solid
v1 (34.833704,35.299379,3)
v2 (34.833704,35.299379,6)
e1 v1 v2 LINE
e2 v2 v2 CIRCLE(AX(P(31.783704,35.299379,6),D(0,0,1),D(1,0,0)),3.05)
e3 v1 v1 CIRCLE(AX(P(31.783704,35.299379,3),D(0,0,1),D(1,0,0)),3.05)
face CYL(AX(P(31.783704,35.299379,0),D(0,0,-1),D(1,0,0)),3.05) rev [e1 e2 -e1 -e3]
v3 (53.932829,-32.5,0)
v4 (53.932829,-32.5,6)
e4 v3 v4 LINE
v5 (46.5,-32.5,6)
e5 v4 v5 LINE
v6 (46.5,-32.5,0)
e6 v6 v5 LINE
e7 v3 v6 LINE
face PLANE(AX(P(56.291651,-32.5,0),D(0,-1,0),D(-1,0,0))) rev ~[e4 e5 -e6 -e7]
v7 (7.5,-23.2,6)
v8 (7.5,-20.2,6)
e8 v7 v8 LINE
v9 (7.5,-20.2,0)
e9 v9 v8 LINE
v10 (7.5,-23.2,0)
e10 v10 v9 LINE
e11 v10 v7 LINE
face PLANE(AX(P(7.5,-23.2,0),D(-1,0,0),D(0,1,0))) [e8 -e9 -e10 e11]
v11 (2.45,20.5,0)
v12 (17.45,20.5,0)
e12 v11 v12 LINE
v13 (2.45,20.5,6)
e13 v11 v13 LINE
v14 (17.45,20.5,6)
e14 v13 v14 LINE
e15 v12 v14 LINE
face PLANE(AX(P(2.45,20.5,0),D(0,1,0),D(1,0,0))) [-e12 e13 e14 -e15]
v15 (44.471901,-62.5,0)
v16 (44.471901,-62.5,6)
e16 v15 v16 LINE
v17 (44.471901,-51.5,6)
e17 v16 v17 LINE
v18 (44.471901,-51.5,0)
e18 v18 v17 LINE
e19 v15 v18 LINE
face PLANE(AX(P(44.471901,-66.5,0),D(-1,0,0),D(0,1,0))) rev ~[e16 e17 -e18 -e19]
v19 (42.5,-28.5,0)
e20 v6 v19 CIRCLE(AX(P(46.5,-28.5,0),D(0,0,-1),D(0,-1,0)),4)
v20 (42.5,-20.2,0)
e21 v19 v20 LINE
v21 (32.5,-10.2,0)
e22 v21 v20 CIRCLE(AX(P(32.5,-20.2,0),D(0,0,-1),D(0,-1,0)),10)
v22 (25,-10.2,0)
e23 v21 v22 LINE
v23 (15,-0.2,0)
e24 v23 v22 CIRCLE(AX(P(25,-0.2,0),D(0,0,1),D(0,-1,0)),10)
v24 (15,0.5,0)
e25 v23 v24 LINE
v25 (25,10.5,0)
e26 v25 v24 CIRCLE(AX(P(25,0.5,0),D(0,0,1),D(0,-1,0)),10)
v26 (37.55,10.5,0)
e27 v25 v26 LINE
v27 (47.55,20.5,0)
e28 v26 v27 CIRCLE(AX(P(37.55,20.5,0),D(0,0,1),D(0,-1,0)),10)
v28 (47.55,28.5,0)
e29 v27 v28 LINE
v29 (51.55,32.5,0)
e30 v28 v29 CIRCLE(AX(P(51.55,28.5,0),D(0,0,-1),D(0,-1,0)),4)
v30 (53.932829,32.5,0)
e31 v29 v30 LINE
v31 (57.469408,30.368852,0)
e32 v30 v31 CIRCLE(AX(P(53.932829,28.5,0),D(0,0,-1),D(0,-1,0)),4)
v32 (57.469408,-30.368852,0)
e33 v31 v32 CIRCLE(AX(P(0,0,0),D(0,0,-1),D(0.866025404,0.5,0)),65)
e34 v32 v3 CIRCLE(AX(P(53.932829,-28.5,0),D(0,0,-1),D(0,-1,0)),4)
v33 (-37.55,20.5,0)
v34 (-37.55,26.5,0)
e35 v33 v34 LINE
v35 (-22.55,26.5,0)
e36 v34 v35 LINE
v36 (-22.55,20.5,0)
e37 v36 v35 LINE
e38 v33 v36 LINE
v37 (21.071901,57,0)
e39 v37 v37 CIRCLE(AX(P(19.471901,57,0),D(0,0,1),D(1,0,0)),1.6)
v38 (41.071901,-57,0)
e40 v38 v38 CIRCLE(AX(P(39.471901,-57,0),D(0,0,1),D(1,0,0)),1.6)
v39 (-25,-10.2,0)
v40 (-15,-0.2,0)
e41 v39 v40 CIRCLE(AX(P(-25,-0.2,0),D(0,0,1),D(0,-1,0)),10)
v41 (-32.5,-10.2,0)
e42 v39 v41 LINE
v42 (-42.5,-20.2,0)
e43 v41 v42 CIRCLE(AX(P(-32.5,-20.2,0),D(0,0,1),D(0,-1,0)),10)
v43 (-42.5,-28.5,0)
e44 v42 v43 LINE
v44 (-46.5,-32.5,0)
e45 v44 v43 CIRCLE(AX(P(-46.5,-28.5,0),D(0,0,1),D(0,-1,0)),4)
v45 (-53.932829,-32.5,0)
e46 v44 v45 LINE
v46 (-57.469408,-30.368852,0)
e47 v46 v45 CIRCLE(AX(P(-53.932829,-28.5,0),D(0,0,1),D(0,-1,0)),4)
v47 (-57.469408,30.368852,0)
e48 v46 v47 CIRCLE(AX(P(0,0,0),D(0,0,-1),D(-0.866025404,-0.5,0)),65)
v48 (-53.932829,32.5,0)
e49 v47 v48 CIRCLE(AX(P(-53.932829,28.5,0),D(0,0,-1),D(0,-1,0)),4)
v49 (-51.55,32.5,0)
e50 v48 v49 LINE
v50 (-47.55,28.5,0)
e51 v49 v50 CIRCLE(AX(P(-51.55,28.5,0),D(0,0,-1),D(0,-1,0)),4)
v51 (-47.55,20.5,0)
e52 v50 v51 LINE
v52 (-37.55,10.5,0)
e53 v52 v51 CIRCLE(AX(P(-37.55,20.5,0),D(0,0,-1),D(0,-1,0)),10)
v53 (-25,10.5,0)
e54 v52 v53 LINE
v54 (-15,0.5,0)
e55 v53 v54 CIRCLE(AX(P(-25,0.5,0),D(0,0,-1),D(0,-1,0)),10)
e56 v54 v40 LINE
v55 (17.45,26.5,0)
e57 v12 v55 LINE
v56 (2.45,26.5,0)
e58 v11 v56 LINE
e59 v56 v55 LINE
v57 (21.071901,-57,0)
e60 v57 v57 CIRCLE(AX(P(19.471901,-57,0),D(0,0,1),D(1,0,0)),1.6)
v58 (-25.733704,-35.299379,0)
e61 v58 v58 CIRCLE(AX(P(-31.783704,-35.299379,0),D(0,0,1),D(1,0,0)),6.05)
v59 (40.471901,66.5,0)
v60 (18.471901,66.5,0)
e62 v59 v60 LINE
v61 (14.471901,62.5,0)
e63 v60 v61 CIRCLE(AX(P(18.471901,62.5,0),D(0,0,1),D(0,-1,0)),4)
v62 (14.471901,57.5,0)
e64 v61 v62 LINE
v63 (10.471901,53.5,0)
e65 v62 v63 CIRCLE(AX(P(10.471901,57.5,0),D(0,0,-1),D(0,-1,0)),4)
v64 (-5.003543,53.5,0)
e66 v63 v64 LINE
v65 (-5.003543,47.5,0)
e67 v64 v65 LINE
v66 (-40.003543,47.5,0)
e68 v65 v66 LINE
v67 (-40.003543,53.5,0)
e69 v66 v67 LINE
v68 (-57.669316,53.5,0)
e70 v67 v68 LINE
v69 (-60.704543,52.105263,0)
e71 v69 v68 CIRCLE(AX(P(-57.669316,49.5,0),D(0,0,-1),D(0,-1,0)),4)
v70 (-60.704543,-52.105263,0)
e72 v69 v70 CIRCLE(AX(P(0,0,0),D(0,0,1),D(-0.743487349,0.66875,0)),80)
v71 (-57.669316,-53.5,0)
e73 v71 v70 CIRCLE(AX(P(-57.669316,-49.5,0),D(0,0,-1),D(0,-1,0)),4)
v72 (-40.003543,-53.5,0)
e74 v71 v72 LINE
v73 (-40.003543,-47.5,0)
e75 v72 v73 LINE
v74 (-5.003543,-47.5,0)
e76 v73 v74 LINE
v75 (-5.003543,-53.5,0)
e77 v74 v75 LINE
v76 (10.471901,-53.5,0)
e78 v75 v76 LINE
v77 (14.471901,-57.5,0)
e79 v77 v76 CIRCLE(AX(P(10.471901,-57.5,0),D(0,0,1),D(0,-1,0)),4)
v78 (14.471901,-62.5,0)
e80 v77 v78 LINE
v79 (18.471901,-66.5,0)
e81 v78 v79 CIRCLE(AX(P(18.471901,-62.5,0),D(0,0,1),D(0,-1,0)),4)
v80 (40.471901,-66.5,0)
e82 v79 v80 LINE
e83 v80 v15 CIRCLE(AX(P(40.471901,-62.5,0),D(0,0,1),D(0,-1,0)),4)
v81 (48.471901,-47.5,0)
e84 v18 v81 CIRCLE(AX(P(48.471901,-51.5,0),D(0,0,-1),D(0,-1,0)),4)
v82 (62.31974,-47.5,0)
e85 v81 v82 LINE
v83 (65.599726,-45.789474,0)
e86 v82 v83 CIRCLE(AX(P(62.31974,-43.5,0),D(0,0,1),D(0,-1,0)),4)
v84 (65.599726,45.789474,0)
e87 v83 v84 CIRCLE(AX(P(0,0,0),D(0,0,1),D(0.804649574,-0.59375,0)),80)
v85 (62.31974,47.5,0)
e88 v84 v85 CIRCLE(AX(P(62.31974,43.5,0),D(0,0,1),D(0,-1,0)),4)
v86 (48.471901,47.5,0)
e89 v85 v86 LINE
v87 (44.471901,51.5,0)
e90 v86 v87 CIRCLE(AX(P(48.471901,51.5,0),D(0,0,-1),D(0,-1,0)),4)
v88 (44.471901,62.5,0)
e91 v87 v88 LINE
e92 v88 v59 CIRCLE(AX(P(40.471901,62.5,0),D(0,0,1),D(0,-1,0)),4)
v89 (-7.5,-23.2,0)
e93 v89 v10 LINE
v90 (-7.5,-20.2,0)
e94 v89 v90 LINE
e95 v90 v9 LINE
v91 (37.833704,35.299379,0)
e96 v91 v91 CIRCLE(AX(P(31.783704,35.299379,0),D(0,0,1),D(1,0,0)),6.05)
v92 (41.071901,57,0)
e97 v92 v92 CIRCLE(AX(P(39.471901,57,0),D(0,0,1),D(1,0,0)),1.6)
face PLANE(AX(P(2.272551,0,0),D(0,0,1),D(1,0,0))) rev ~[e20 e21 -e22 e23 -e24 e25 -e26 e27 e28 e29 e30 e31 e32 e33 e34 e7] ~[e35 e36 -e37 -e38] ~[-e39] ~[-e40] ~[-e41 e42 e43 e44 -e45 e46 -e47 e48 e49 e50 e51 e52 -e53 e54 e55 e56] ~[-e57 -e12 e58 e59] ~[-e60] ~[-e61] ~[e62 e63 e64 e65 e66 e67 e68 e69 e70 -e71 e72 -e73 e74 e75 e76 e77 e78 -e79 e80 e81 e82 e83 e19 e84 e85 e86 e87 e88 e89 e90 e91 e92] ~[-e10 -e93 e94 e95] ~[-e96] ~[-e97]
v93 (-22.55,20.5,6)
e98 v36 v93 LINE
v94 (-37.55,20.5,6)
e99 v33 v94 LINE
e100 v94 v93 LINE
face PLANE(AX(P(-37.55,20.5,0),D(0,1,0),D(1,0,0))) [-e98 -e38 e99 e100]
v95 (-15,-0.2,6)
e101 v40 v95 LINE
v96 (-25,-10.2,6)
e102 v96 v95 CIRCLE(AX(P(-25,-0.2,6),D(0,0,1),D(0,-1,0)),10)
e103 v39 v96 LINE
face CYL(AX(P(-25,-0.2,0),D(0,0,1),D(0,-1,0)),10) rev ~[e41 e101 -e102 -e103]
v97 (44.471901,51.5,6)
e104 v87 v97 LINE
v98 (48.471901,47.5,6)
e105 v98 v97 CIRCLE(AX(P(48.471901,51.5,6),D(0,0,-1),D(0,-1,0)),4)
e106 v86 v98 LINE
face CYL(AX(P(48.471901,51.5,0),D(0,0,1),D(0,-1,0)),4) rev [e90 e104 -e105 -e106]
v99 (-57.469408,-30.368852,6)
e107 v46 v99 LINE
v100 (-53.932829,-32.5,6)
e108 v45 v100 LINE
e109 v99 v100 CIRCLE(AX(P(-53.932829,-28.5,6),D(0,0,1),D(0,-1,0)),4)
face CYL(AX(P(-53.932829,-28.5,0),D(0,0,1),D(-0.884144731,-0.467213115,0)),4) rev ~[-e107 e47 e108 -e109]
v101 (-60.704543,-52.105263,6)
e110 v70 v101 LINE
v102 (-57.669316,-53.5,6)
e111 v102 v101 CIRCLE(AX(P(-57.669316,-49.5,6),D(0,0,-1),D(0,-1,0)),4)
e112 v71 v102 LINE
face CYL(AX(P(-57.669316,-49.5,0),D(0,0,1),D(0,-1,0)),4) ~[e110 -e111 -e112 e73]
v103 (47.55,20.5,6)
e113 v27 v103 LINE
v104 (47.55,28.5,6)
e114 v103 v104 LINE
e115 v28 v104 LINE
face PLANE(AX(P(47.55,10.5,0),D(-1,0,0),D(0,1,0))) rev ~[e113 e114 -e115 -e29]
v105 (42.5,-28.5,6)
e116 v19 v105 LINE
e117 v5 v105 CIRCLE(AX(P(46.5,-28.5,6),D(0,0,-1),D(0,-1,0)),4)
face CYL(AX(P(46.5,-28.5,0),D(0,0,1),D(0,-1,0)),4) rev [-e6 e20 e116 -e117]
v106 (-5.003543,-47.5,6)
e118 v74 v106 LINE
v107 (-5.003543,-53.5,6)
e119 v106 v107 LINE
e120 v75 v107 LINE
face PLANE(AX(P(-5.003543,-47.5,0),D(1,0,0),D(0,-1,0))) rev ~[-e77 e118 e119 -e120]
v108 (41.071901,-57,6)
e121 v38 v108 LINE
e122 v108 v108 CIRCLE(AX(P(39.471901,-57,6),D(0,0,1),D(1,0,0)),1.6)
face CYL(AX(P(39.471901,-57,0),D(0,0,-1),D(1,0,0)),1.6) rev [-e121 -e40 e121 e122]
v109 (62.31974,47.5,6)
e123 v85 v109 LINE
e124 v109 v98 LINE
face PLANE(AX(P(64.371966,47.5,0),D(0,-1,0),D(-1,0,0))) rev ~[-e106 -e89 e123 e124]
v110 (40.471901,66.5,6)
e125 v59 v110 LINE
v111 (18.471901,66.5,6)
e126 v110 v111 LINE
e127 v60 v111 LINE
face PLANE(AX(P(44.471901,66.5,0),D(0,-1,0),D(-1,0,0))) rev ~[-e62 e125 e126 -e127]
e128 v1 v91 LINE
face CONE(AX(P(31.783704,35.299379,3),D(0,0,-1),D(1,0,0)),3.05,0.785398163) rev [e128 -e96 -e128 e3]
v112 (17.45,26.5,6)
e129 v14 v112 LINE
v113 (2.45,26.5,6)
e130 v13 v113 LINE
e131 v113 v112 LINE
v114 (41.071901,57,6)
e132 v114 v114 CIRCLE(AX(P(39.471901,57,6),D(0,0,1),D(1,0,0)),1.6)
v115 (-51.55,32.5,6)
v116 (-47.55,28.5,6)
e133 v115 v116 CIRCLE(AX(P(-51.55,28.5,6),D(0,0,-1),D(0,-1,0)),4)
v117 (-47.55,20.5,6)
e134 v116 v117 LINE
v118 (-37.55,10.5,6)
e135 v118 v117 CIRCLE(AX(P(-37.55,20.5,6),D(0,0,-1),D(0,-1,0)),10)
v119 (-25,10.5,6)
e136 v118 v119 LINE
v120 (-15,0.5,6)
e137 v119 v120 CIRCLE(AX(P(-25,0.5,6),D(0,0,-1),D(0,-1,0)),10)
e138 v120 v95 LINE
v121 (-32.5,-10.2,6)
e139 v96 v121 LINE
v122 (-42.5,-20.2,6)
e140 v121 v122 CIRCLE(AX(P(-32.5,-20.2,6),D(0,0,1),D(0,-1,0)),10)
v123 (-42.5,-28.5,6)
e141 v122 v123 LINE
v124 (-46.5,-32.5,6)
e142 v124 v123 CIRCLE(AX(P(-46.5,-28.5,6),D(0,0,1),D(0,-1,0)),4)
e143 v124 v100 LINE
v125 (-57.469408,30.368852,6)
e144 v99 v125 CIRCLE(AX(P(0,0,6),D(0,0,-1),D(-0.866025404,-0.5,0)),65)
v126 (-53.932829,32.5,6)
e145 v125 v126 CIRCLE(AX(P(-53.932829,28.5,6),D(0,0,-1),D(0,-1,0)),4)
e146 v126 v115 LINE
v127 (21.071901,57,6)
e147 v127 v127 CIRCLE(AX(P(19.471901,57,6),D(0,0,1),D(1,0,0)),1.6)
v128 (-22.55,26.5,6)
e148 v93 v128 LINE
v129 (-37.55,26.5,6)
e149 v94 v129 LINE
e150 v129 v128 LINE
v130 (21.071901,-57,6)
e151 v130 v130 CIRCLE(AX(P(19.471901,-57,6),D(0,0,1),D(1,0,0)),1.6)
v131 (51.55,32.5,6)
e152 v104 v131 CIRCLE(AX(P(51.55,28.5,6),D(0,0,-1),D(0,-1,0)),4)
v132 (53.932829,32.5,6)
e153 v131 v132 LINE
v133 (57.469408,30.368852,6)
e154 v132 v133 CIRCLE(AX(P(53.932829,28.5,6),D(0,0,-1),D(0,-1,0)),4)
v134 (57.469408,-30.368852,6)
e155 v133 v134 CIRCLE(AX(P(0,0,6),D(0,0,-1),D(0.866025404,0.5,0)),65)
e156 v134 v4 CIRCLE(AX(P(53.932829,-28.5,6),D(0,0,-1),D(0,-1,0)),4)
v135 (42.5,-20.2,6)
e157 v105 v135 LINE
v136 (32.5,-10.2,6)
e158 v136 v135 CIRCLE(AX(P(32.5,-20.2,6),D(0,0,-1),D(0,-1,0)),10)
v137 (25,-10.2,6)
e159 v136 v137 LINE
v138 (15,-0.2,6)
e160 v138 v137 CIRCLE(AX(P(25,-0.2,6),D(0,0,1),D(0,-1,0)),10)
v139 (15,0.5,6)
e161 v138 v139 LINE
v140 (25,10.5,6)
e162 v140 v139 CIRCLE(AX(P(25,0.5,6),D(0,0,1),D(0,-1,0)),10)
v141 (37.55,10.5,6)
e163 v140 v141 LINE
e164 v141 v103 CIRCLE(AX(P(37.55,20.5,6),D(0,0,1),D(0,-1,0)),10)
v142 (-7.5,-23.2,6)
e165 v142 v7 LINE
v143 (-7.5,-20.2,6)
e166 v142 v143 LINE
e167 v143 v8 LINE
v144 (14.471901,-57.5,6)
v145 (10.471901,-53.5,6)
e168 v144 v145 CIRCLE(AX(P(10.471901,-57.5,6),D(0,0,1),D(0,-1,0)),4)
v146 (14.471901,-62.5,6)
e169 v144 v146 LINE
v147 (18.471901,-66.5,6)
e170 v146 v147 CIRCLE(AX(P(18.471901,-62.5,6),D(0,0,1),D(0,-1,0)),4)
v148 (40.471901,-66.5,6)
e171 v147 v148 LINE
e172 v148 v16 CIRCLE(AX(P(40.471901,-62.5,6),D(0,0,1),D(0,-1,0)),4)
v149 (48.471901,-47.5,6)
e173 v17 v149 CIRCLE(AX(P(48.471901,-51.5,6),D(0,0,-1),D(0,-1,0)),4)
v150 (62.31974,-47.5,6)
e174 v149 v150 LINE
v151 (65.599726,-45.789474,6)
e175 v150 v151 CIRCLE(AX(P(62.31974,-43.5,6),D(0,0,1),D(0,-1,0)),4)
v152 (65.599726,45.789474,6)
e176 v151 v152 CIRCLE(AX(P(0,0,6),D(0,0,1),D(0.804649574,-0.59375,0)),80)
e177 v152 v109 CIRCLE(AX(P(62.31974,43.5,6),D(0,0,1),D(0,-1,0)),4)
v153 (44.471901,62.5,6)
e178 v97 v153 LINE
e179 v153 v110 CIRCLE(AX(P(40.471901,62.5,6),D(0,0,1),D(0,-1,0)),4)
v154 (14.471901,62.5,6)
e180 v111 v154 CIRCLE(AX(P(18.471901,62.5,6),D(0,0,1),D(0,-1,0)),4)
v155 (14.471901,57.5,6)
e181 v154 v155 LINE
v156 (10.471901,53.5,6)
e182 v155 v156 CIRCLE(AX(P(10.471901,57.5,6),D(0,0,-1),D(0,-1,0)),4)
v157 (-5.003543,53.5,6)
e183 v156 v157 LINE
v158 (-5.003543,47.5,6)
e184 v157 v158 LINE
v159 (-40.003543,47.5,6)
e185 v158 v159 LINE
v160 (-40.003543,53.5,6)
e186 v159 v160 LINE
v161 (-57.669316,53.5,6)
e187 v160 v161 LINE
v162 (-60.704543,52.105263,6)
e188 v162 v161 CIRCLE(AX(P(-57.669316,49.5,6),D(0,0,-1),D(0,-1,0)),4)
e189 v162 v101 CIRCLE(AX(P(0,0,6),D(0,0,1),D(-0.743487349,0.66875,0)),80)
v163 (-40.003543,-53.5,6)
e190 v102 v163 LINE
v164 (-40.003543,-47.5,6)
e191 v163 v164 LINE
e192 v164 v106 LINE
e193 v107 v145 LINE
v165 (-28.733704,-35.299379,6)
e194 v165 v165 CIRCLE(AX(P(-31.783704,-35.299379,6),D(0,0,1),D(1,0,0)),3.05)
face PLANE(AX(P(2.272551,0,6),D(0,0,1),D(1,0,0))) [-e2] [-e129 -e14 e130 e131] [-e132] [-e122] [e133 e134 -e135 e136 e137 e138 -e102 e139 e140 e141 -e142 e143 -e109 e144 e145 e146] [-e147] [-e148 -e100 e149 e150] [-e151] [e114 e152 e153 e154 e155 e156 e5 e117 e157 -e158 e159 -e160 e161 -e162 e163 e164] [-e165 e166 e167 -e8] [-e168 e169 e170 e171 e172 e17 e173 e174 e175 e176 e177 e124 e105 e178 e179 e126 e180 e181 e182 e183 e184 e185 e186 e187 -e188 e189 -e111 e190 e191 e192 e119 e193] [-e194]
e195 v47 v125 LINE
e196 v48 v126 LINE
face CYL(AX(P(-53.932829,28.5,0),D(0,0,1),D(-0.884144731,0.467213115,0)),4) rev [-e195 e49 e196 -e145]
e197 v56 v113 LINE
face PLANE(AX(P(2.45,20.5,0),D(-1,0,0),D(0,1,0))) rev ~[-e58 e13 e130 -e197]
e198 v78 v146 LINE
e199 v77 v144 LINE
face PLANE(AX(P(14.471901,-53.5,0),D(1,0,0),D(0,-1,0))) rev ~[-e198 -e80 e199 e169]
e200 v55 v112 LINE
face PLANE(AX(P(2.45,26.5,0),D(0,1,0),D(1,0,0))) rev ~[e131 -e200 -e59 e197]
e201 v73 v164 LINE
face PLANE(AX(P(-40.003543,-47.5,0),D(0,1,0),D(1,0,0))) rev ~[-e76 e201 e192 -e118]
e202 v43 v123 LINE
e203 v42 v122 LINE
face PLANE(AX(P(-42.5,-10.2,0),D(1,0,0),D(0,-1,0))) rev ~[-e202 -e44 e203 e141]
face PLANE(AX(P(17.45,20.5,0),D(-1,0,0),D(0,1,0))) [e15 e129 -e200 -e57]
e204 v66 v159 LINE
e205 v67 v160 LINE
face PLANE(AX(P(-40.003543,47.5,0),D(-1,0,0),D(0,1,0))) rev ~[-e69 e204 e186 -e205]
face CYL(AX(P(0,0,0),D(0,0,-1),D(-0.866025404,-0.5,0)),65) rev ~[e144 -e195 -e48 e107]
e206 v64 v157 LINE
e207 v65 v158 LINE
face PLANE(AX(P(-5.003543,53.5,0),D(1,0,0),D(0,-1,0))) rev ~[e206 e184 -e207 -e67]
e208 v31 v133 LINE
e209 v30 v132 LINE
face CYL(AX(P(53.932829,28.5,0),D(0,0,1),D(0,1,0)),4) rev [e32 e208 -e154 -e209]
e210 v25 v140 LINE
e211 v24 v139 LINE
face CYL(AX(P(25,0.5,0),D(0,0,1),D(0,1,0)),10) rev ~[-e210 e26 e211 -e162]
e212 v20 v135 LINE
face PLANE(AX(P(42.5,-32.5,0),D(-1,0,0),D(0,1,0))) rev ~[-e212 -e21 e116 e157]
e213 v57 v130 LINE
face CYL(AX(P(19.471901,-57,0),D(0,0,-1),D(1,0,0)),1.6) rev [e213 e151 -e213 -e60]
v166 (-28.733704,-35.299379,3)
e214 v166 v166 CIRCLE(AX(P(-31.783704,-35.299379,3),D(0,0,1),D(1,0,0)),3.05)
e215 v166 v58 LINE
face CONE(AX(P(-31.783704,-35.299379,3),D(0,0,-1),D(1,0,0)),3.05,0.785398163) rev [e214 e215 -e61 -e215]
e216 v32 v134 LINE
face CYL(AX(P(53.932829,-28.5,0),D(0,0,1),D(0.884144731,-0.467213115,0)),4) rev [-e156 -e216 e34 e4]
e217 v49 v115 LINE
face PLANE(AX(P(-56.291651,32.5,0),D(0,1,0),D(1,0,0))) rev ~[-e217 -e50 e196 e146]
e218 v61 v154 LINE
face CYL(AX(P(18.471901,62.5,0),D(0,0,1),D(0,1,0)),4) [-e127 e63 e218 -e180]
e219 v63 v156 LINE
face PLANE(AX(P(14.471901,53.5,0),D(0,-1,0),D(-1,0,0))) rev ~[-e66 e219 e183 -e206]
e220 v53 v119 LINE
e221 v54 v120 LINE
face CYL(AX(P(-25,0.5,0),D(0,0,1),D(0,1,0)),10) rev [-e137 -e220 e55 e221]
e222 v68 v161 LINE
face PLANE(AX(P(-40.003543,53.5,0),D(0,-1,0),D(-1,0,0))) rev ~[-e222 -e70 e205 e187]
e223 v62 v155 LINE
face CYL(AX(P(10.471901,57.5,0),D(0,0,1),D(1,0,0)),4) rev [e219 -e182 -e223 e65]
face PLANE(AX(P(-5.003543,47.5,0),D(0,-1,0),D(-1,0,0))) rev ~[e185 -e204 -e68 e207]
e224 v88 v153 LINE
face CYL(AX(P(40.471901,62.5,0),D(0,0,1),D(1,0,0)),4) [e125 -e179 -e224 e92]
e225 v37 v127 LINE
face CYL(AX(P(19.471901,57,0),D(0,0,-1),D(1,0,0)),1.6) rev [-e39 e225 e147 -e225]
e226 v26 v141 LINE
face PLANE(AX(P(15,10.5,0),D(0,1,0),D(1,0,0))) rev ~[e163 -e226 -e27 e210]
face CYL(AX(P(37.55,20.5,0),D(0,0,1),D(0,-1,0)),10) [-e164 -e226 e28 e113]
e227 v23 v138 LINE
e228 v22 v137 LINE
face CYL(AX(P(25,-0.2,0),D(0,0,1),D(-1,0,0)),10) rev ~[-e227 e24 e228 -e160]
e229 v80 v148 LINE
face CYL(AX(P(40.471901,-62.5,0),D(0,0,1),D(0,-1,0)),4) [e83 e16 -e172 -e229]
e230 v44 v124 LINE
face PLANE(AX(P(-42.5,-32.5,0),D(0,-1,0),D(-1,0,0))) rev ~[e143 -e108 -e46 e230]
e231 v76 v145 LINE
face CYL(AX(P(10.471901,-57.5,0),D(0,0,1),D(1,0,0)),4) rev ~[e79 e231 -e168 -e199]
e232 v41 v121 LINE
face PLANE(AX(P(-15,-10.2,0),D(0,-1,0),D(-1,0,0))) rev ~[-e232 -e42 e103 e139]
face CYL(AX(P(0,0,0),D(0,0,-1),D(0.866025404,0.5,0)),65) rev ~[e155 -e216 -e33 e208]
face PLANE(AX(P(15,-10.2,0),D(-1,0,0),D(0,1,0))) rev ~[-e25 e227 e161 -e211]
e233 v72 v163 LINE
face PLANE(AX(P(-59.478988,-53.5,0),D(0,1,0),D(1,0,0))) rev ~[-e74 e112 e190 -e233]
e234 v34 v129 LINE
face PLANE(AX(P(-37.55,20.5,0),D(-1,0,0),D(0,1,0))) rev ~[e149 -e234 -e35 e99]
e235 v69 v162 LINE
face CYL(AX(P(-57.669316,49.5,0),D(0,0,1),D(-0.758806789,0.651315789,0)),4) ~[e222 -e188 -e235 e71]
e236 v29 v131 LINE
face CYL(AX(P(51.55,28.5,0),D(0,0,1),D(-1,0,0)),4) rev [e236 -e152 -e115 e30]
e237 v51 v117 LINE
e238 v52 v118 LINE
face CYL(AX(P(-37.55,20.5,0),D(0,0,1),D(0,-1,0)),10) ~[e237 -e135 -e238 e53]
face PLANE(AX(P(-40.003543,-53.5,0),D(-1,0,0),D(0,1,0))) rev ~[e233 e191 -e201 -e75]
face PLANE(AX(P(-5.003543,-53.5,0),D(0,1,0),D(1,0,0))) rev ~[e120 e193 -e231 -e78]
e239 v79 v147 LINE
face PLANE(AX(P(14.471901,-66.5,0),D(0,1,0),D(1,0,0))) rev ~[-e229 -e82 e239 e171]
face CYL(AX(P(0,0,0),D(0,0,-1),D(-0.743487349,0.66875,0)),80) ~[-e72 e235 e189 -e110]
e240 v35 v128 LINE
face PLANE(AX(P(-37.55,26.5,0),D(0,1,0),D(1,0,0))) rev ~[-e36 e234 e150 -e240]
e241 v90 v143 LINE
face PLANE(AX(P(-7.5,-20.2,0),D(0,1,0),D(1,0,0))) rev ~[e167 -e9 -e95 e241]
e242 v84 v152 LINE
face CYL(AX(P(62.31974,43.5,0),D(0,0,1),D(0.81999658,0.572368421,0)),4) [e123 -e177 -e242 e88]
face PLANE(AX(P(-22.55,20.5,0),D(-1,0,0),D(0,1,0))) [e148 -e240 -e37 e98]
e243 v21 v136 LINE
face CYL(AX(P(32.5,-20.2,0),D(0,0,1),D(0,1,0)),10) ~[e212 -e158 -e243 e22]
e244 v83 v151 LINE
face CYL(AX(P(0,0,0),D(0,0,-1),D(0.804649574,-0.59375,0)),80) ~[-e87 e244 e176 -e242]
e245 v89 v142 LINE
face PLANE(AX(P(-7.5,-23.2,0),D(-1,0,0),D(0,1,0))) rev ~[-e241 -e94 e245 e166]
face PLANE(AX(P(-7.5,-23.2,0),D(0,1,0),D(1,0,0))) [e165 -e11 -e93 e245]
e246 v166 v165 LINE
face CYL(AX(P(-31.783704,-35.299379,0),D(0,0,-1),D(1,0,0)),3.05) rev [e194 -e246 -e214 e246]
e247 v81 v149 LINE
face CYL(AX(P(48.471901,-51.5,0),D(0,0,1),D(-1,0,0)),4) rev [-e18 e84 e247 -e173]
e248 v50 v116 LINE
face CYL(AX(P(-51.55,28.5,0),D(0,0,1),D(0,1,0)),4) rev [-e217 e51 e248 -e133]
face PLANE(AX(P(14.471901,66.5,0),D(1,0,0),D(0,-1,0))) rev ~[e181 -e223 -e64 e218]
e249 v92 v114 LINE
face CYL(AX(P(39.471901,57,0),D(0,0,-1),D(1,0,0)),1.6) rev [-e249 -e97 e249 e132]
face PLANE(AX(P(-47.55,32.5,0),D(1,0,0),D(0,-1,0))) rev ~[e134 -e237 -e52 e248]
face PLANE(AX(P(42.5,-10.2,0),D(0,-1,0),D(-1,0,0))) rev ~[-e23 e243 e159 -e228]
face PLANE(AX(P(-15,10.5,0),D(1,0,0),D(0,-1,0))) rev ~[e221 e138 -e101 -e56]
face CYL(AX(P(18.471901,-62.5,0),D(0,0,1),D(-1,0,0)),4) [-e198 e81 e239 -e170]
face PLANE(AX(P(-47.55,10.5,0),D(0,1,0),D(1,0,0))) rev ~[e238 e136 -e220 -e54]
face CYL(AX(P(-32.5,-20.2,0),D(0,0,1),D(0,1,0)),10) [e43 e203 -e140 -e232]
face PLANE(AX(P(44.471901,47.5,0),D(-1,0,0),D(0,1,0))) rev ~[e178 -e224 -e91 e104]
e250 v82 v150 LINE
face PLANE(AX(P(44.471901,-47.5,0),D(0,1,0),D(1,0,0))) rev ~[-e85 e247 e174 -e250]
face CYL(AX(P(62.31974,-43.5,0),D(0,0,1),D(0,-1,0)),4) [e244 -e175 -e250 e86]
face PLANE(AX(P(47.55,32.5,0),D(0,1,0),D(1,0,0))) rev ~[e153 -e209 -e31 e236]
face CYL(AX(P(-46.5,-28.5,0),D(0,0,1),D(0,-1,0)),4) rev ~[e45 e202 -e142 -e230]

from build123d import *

# Parameters (mm, degrees)
ESBO_O1_R                = 3.05
ESBO_O1_W                = 15
ESBO_O1_H                = 3
ESBO_O1_R_2              = 1.6
ESBO_O1_H_2              = 6
RESSALTO_EXTRUS_O1_DEPTH = 6
CHANFRO1_SIZE            = 3
FILETE1_R                = 4
FILETE2_R                = 10
FILETE3_R                = 10


with BuildPart() as part:
    # Esboço1 → Ressalto-extrusão1 (new body)
    with BuildSketch(Plane.XY):
        with BuildLine():
            Line((14.471901241, -53.5), (14.471901241, -66.5))
            Line((14.471901241, -66.5), (44.471901241, -66.5))
            Line((44.471901241, -66.5), (44.471901241, -47.5))
            Line((44.471901241, -47.5), (64.371965948, -47.5))
            ThreePointArc((64.371965948, -47.5), (80, 0), (64.371965948, 47.5))
            Line((64.371965948, 47.5), (44.471901241, 47.5))
            Line((44.471901241, 47.5), (44.471901241, 66.5))
            Line((44.471901241, 66.5), (14.471901241, 66.5))
            Line((14.471901241, 66.5), (14.471901241, 53.5))
            Line((14.471901241, 53.5), (-5.003543323, 53.5))
            Line((-5.003543323, 53.5), (-5.003543323, 47.5))
            Line((-5.003543323, 47.5), (-40.003543323, 47.5))
            Line((-40.003543323, 47.5), (-40.003543323, 53.5))
            Line((-40.003543323, 53.5), (-59.478987886, 53.5))
            ThreePointArc((-59.478987886, 53.5), (-80, 0), (-59.478987886, -53.5))
            Line((-59.478987886, -53.5), (-40.003543323, -53.5))
            Line((-40.003543323, -53.5), (-40.003543323, -47.5))
            Line((-40.003543323, -47.5), (-5.003543323, -47.5))
            Line((-5.003543323, -47.5), (-5.003543323, -53.5))
            Line((-5.003543323, -53.5), (14.471901241, -53.5))
        make_face()
        with BuildLine():
            Line((-56.291651246, 32.5), (-47.55, 32.5))
            Line((-47.55, 32.5), (-47.55, 10.5))
            Line((-47.55, 10.5), (-15, 10.5))
            Line((-15, 10.5), (-15, -10.2))
            Line((-15, -10.2), (-42.5, -10.2))
            Line((-42.5, -10.2), (-42.5, -32.5))
            Line((-42.5, -32.5), (-56.291651246, -32.5))
            ThreePointArc((-56.291651246, -32.5), (-65, 0), (-56.291651246, 32.5))
        make_face(mode=Mode.SUBTRACT)
        with BuildLine():
            Line((47.55, 32.5), (56.291651246, 32.5))
            ThreePointArc((56.291651246, 32.5), (65, 0), (56.291651246, -32.5))
            Line((56.291651246, -32.5), (42.5, -32.5))
            Line((42.5, -32.5), (42.5, -10.2))
            Line((42.5, -10.2), (15, -10.2))
            Line((15, -10.2), (15, 10.5))
            Line((15, 10.5), (47.55, 10.5))
            Line((47.55, 10.5), (47.55, 32.5))
        make_face(mode=Mode.SUBTRACT)
        with Locations((-31.783703802, -35.29937921)):
            Circle(ESBO_O1_R, mode=Mode.SUBTRACT)
        with Locations((0, -21.7)):
            Rectangle(ESBO_O1_W, ESBO_O1_H, mode=Mode.SUBTRACT)
        with Locations((19.471901241, -57)):
            Circle(ESBO_O1_R_2, mode=Mode.SUBTRACT)
        with Locations((39.471901241, -57)):
            Circle(ESBO_O1_R_2, mode=Mode.SUBTRACT)
        with Locations((-30.05, 23.5)):
            Rectangle(ESBO_O1_W, ESBO_O1_H_2, mode=Mode.SUBTRACT)
        with Locations((9.95, 23.5)):
            Rectangle(ESBO_O1_W, ESBO_O1_H_2, mode=Mode.SUBTRACT)
        with Locations((31.783703802, 35.29937921)):
            Circle(ESBO_O1_R, mode=Mode.SUBTRACT)
        with Locations((19.471901241, 57)):
            Circle(ESBO_O1_R_2, mode=Mode.SUBTRACT)
        with Locations((39.471901241, 57)):
            Circle(ESBO_O1_R_2, mode=Mode.SUBTRACT)
    extrude(amount=RESSALTO_EXTRUS_O1_DEPTH)

    # Chanfro1
    chanfro1_edges = [part.edges().sort_by_distance(p)[0] for p in [
        (-34.833703802, -35.29937921, 0),
        (28.733703802, 35.29937921, 0),
    ]]
    chamfer(chanfro1_edges, length=CHANFRO1_SIZE)

    # Filete1
    filete1_edges = [part.edges().sort_by_distance(p)[0] for p in [
        (-42.5, -32.5, 3),
        (-47.55, 32.5, 3),
        (-56.291651246, 32.5, 3),
        (-56.291651246, -32.5, 3),
        (56.291651246, 32.5, 3),
        (47.55, 32.5, 3),
        (42.5, -32.5, 3),
        (56.291651246, -32.5, 3),
        (44.471901241, -47.5, 3),
        (44.471901241, -66.5, 3),
        (14.471901241, -66.5, 3),
        (14.471901241, -53.5, 3),
        (-59.478987886, -53.5, 3),
        (-59.478987886, 53.5, 3),
        (14.471901241, 53.5, 3),
        (14.471901241, 66.5, 3),
        (44.471901241, 66.5, 3),
        (44.471901241, 47.5, 3),
        (64.371965948, 47.5, 3),
        (64.371965948, -47.5, 3),
    ]]
    fillet(filete1_edges, radius=FILETE1_R)

    # Filete2
    filete2_edges = [part.edges().sort_by_distance(p)[0] for p in [
        (-15, -10.2, 3),
        (-15, 10.5, 3),
        (15, 10.5, 3),
        (15, -10.2, 3),
    ]]
    fillet(filete2_edges, radius=FILETE2_R)

    # Filete3
    filete3_edges = [part.edges().sort_by_distance(p)[0] for p in [
        (-42.5, -10.2, 3),
        (-47.55, 10.5, 3),
        (47.55, 10.5, 3),
        (42.5, -10.2, 3),
    ]]
    fillet(filete3_edges, radius=FILETE3_R)


solid = part.part
